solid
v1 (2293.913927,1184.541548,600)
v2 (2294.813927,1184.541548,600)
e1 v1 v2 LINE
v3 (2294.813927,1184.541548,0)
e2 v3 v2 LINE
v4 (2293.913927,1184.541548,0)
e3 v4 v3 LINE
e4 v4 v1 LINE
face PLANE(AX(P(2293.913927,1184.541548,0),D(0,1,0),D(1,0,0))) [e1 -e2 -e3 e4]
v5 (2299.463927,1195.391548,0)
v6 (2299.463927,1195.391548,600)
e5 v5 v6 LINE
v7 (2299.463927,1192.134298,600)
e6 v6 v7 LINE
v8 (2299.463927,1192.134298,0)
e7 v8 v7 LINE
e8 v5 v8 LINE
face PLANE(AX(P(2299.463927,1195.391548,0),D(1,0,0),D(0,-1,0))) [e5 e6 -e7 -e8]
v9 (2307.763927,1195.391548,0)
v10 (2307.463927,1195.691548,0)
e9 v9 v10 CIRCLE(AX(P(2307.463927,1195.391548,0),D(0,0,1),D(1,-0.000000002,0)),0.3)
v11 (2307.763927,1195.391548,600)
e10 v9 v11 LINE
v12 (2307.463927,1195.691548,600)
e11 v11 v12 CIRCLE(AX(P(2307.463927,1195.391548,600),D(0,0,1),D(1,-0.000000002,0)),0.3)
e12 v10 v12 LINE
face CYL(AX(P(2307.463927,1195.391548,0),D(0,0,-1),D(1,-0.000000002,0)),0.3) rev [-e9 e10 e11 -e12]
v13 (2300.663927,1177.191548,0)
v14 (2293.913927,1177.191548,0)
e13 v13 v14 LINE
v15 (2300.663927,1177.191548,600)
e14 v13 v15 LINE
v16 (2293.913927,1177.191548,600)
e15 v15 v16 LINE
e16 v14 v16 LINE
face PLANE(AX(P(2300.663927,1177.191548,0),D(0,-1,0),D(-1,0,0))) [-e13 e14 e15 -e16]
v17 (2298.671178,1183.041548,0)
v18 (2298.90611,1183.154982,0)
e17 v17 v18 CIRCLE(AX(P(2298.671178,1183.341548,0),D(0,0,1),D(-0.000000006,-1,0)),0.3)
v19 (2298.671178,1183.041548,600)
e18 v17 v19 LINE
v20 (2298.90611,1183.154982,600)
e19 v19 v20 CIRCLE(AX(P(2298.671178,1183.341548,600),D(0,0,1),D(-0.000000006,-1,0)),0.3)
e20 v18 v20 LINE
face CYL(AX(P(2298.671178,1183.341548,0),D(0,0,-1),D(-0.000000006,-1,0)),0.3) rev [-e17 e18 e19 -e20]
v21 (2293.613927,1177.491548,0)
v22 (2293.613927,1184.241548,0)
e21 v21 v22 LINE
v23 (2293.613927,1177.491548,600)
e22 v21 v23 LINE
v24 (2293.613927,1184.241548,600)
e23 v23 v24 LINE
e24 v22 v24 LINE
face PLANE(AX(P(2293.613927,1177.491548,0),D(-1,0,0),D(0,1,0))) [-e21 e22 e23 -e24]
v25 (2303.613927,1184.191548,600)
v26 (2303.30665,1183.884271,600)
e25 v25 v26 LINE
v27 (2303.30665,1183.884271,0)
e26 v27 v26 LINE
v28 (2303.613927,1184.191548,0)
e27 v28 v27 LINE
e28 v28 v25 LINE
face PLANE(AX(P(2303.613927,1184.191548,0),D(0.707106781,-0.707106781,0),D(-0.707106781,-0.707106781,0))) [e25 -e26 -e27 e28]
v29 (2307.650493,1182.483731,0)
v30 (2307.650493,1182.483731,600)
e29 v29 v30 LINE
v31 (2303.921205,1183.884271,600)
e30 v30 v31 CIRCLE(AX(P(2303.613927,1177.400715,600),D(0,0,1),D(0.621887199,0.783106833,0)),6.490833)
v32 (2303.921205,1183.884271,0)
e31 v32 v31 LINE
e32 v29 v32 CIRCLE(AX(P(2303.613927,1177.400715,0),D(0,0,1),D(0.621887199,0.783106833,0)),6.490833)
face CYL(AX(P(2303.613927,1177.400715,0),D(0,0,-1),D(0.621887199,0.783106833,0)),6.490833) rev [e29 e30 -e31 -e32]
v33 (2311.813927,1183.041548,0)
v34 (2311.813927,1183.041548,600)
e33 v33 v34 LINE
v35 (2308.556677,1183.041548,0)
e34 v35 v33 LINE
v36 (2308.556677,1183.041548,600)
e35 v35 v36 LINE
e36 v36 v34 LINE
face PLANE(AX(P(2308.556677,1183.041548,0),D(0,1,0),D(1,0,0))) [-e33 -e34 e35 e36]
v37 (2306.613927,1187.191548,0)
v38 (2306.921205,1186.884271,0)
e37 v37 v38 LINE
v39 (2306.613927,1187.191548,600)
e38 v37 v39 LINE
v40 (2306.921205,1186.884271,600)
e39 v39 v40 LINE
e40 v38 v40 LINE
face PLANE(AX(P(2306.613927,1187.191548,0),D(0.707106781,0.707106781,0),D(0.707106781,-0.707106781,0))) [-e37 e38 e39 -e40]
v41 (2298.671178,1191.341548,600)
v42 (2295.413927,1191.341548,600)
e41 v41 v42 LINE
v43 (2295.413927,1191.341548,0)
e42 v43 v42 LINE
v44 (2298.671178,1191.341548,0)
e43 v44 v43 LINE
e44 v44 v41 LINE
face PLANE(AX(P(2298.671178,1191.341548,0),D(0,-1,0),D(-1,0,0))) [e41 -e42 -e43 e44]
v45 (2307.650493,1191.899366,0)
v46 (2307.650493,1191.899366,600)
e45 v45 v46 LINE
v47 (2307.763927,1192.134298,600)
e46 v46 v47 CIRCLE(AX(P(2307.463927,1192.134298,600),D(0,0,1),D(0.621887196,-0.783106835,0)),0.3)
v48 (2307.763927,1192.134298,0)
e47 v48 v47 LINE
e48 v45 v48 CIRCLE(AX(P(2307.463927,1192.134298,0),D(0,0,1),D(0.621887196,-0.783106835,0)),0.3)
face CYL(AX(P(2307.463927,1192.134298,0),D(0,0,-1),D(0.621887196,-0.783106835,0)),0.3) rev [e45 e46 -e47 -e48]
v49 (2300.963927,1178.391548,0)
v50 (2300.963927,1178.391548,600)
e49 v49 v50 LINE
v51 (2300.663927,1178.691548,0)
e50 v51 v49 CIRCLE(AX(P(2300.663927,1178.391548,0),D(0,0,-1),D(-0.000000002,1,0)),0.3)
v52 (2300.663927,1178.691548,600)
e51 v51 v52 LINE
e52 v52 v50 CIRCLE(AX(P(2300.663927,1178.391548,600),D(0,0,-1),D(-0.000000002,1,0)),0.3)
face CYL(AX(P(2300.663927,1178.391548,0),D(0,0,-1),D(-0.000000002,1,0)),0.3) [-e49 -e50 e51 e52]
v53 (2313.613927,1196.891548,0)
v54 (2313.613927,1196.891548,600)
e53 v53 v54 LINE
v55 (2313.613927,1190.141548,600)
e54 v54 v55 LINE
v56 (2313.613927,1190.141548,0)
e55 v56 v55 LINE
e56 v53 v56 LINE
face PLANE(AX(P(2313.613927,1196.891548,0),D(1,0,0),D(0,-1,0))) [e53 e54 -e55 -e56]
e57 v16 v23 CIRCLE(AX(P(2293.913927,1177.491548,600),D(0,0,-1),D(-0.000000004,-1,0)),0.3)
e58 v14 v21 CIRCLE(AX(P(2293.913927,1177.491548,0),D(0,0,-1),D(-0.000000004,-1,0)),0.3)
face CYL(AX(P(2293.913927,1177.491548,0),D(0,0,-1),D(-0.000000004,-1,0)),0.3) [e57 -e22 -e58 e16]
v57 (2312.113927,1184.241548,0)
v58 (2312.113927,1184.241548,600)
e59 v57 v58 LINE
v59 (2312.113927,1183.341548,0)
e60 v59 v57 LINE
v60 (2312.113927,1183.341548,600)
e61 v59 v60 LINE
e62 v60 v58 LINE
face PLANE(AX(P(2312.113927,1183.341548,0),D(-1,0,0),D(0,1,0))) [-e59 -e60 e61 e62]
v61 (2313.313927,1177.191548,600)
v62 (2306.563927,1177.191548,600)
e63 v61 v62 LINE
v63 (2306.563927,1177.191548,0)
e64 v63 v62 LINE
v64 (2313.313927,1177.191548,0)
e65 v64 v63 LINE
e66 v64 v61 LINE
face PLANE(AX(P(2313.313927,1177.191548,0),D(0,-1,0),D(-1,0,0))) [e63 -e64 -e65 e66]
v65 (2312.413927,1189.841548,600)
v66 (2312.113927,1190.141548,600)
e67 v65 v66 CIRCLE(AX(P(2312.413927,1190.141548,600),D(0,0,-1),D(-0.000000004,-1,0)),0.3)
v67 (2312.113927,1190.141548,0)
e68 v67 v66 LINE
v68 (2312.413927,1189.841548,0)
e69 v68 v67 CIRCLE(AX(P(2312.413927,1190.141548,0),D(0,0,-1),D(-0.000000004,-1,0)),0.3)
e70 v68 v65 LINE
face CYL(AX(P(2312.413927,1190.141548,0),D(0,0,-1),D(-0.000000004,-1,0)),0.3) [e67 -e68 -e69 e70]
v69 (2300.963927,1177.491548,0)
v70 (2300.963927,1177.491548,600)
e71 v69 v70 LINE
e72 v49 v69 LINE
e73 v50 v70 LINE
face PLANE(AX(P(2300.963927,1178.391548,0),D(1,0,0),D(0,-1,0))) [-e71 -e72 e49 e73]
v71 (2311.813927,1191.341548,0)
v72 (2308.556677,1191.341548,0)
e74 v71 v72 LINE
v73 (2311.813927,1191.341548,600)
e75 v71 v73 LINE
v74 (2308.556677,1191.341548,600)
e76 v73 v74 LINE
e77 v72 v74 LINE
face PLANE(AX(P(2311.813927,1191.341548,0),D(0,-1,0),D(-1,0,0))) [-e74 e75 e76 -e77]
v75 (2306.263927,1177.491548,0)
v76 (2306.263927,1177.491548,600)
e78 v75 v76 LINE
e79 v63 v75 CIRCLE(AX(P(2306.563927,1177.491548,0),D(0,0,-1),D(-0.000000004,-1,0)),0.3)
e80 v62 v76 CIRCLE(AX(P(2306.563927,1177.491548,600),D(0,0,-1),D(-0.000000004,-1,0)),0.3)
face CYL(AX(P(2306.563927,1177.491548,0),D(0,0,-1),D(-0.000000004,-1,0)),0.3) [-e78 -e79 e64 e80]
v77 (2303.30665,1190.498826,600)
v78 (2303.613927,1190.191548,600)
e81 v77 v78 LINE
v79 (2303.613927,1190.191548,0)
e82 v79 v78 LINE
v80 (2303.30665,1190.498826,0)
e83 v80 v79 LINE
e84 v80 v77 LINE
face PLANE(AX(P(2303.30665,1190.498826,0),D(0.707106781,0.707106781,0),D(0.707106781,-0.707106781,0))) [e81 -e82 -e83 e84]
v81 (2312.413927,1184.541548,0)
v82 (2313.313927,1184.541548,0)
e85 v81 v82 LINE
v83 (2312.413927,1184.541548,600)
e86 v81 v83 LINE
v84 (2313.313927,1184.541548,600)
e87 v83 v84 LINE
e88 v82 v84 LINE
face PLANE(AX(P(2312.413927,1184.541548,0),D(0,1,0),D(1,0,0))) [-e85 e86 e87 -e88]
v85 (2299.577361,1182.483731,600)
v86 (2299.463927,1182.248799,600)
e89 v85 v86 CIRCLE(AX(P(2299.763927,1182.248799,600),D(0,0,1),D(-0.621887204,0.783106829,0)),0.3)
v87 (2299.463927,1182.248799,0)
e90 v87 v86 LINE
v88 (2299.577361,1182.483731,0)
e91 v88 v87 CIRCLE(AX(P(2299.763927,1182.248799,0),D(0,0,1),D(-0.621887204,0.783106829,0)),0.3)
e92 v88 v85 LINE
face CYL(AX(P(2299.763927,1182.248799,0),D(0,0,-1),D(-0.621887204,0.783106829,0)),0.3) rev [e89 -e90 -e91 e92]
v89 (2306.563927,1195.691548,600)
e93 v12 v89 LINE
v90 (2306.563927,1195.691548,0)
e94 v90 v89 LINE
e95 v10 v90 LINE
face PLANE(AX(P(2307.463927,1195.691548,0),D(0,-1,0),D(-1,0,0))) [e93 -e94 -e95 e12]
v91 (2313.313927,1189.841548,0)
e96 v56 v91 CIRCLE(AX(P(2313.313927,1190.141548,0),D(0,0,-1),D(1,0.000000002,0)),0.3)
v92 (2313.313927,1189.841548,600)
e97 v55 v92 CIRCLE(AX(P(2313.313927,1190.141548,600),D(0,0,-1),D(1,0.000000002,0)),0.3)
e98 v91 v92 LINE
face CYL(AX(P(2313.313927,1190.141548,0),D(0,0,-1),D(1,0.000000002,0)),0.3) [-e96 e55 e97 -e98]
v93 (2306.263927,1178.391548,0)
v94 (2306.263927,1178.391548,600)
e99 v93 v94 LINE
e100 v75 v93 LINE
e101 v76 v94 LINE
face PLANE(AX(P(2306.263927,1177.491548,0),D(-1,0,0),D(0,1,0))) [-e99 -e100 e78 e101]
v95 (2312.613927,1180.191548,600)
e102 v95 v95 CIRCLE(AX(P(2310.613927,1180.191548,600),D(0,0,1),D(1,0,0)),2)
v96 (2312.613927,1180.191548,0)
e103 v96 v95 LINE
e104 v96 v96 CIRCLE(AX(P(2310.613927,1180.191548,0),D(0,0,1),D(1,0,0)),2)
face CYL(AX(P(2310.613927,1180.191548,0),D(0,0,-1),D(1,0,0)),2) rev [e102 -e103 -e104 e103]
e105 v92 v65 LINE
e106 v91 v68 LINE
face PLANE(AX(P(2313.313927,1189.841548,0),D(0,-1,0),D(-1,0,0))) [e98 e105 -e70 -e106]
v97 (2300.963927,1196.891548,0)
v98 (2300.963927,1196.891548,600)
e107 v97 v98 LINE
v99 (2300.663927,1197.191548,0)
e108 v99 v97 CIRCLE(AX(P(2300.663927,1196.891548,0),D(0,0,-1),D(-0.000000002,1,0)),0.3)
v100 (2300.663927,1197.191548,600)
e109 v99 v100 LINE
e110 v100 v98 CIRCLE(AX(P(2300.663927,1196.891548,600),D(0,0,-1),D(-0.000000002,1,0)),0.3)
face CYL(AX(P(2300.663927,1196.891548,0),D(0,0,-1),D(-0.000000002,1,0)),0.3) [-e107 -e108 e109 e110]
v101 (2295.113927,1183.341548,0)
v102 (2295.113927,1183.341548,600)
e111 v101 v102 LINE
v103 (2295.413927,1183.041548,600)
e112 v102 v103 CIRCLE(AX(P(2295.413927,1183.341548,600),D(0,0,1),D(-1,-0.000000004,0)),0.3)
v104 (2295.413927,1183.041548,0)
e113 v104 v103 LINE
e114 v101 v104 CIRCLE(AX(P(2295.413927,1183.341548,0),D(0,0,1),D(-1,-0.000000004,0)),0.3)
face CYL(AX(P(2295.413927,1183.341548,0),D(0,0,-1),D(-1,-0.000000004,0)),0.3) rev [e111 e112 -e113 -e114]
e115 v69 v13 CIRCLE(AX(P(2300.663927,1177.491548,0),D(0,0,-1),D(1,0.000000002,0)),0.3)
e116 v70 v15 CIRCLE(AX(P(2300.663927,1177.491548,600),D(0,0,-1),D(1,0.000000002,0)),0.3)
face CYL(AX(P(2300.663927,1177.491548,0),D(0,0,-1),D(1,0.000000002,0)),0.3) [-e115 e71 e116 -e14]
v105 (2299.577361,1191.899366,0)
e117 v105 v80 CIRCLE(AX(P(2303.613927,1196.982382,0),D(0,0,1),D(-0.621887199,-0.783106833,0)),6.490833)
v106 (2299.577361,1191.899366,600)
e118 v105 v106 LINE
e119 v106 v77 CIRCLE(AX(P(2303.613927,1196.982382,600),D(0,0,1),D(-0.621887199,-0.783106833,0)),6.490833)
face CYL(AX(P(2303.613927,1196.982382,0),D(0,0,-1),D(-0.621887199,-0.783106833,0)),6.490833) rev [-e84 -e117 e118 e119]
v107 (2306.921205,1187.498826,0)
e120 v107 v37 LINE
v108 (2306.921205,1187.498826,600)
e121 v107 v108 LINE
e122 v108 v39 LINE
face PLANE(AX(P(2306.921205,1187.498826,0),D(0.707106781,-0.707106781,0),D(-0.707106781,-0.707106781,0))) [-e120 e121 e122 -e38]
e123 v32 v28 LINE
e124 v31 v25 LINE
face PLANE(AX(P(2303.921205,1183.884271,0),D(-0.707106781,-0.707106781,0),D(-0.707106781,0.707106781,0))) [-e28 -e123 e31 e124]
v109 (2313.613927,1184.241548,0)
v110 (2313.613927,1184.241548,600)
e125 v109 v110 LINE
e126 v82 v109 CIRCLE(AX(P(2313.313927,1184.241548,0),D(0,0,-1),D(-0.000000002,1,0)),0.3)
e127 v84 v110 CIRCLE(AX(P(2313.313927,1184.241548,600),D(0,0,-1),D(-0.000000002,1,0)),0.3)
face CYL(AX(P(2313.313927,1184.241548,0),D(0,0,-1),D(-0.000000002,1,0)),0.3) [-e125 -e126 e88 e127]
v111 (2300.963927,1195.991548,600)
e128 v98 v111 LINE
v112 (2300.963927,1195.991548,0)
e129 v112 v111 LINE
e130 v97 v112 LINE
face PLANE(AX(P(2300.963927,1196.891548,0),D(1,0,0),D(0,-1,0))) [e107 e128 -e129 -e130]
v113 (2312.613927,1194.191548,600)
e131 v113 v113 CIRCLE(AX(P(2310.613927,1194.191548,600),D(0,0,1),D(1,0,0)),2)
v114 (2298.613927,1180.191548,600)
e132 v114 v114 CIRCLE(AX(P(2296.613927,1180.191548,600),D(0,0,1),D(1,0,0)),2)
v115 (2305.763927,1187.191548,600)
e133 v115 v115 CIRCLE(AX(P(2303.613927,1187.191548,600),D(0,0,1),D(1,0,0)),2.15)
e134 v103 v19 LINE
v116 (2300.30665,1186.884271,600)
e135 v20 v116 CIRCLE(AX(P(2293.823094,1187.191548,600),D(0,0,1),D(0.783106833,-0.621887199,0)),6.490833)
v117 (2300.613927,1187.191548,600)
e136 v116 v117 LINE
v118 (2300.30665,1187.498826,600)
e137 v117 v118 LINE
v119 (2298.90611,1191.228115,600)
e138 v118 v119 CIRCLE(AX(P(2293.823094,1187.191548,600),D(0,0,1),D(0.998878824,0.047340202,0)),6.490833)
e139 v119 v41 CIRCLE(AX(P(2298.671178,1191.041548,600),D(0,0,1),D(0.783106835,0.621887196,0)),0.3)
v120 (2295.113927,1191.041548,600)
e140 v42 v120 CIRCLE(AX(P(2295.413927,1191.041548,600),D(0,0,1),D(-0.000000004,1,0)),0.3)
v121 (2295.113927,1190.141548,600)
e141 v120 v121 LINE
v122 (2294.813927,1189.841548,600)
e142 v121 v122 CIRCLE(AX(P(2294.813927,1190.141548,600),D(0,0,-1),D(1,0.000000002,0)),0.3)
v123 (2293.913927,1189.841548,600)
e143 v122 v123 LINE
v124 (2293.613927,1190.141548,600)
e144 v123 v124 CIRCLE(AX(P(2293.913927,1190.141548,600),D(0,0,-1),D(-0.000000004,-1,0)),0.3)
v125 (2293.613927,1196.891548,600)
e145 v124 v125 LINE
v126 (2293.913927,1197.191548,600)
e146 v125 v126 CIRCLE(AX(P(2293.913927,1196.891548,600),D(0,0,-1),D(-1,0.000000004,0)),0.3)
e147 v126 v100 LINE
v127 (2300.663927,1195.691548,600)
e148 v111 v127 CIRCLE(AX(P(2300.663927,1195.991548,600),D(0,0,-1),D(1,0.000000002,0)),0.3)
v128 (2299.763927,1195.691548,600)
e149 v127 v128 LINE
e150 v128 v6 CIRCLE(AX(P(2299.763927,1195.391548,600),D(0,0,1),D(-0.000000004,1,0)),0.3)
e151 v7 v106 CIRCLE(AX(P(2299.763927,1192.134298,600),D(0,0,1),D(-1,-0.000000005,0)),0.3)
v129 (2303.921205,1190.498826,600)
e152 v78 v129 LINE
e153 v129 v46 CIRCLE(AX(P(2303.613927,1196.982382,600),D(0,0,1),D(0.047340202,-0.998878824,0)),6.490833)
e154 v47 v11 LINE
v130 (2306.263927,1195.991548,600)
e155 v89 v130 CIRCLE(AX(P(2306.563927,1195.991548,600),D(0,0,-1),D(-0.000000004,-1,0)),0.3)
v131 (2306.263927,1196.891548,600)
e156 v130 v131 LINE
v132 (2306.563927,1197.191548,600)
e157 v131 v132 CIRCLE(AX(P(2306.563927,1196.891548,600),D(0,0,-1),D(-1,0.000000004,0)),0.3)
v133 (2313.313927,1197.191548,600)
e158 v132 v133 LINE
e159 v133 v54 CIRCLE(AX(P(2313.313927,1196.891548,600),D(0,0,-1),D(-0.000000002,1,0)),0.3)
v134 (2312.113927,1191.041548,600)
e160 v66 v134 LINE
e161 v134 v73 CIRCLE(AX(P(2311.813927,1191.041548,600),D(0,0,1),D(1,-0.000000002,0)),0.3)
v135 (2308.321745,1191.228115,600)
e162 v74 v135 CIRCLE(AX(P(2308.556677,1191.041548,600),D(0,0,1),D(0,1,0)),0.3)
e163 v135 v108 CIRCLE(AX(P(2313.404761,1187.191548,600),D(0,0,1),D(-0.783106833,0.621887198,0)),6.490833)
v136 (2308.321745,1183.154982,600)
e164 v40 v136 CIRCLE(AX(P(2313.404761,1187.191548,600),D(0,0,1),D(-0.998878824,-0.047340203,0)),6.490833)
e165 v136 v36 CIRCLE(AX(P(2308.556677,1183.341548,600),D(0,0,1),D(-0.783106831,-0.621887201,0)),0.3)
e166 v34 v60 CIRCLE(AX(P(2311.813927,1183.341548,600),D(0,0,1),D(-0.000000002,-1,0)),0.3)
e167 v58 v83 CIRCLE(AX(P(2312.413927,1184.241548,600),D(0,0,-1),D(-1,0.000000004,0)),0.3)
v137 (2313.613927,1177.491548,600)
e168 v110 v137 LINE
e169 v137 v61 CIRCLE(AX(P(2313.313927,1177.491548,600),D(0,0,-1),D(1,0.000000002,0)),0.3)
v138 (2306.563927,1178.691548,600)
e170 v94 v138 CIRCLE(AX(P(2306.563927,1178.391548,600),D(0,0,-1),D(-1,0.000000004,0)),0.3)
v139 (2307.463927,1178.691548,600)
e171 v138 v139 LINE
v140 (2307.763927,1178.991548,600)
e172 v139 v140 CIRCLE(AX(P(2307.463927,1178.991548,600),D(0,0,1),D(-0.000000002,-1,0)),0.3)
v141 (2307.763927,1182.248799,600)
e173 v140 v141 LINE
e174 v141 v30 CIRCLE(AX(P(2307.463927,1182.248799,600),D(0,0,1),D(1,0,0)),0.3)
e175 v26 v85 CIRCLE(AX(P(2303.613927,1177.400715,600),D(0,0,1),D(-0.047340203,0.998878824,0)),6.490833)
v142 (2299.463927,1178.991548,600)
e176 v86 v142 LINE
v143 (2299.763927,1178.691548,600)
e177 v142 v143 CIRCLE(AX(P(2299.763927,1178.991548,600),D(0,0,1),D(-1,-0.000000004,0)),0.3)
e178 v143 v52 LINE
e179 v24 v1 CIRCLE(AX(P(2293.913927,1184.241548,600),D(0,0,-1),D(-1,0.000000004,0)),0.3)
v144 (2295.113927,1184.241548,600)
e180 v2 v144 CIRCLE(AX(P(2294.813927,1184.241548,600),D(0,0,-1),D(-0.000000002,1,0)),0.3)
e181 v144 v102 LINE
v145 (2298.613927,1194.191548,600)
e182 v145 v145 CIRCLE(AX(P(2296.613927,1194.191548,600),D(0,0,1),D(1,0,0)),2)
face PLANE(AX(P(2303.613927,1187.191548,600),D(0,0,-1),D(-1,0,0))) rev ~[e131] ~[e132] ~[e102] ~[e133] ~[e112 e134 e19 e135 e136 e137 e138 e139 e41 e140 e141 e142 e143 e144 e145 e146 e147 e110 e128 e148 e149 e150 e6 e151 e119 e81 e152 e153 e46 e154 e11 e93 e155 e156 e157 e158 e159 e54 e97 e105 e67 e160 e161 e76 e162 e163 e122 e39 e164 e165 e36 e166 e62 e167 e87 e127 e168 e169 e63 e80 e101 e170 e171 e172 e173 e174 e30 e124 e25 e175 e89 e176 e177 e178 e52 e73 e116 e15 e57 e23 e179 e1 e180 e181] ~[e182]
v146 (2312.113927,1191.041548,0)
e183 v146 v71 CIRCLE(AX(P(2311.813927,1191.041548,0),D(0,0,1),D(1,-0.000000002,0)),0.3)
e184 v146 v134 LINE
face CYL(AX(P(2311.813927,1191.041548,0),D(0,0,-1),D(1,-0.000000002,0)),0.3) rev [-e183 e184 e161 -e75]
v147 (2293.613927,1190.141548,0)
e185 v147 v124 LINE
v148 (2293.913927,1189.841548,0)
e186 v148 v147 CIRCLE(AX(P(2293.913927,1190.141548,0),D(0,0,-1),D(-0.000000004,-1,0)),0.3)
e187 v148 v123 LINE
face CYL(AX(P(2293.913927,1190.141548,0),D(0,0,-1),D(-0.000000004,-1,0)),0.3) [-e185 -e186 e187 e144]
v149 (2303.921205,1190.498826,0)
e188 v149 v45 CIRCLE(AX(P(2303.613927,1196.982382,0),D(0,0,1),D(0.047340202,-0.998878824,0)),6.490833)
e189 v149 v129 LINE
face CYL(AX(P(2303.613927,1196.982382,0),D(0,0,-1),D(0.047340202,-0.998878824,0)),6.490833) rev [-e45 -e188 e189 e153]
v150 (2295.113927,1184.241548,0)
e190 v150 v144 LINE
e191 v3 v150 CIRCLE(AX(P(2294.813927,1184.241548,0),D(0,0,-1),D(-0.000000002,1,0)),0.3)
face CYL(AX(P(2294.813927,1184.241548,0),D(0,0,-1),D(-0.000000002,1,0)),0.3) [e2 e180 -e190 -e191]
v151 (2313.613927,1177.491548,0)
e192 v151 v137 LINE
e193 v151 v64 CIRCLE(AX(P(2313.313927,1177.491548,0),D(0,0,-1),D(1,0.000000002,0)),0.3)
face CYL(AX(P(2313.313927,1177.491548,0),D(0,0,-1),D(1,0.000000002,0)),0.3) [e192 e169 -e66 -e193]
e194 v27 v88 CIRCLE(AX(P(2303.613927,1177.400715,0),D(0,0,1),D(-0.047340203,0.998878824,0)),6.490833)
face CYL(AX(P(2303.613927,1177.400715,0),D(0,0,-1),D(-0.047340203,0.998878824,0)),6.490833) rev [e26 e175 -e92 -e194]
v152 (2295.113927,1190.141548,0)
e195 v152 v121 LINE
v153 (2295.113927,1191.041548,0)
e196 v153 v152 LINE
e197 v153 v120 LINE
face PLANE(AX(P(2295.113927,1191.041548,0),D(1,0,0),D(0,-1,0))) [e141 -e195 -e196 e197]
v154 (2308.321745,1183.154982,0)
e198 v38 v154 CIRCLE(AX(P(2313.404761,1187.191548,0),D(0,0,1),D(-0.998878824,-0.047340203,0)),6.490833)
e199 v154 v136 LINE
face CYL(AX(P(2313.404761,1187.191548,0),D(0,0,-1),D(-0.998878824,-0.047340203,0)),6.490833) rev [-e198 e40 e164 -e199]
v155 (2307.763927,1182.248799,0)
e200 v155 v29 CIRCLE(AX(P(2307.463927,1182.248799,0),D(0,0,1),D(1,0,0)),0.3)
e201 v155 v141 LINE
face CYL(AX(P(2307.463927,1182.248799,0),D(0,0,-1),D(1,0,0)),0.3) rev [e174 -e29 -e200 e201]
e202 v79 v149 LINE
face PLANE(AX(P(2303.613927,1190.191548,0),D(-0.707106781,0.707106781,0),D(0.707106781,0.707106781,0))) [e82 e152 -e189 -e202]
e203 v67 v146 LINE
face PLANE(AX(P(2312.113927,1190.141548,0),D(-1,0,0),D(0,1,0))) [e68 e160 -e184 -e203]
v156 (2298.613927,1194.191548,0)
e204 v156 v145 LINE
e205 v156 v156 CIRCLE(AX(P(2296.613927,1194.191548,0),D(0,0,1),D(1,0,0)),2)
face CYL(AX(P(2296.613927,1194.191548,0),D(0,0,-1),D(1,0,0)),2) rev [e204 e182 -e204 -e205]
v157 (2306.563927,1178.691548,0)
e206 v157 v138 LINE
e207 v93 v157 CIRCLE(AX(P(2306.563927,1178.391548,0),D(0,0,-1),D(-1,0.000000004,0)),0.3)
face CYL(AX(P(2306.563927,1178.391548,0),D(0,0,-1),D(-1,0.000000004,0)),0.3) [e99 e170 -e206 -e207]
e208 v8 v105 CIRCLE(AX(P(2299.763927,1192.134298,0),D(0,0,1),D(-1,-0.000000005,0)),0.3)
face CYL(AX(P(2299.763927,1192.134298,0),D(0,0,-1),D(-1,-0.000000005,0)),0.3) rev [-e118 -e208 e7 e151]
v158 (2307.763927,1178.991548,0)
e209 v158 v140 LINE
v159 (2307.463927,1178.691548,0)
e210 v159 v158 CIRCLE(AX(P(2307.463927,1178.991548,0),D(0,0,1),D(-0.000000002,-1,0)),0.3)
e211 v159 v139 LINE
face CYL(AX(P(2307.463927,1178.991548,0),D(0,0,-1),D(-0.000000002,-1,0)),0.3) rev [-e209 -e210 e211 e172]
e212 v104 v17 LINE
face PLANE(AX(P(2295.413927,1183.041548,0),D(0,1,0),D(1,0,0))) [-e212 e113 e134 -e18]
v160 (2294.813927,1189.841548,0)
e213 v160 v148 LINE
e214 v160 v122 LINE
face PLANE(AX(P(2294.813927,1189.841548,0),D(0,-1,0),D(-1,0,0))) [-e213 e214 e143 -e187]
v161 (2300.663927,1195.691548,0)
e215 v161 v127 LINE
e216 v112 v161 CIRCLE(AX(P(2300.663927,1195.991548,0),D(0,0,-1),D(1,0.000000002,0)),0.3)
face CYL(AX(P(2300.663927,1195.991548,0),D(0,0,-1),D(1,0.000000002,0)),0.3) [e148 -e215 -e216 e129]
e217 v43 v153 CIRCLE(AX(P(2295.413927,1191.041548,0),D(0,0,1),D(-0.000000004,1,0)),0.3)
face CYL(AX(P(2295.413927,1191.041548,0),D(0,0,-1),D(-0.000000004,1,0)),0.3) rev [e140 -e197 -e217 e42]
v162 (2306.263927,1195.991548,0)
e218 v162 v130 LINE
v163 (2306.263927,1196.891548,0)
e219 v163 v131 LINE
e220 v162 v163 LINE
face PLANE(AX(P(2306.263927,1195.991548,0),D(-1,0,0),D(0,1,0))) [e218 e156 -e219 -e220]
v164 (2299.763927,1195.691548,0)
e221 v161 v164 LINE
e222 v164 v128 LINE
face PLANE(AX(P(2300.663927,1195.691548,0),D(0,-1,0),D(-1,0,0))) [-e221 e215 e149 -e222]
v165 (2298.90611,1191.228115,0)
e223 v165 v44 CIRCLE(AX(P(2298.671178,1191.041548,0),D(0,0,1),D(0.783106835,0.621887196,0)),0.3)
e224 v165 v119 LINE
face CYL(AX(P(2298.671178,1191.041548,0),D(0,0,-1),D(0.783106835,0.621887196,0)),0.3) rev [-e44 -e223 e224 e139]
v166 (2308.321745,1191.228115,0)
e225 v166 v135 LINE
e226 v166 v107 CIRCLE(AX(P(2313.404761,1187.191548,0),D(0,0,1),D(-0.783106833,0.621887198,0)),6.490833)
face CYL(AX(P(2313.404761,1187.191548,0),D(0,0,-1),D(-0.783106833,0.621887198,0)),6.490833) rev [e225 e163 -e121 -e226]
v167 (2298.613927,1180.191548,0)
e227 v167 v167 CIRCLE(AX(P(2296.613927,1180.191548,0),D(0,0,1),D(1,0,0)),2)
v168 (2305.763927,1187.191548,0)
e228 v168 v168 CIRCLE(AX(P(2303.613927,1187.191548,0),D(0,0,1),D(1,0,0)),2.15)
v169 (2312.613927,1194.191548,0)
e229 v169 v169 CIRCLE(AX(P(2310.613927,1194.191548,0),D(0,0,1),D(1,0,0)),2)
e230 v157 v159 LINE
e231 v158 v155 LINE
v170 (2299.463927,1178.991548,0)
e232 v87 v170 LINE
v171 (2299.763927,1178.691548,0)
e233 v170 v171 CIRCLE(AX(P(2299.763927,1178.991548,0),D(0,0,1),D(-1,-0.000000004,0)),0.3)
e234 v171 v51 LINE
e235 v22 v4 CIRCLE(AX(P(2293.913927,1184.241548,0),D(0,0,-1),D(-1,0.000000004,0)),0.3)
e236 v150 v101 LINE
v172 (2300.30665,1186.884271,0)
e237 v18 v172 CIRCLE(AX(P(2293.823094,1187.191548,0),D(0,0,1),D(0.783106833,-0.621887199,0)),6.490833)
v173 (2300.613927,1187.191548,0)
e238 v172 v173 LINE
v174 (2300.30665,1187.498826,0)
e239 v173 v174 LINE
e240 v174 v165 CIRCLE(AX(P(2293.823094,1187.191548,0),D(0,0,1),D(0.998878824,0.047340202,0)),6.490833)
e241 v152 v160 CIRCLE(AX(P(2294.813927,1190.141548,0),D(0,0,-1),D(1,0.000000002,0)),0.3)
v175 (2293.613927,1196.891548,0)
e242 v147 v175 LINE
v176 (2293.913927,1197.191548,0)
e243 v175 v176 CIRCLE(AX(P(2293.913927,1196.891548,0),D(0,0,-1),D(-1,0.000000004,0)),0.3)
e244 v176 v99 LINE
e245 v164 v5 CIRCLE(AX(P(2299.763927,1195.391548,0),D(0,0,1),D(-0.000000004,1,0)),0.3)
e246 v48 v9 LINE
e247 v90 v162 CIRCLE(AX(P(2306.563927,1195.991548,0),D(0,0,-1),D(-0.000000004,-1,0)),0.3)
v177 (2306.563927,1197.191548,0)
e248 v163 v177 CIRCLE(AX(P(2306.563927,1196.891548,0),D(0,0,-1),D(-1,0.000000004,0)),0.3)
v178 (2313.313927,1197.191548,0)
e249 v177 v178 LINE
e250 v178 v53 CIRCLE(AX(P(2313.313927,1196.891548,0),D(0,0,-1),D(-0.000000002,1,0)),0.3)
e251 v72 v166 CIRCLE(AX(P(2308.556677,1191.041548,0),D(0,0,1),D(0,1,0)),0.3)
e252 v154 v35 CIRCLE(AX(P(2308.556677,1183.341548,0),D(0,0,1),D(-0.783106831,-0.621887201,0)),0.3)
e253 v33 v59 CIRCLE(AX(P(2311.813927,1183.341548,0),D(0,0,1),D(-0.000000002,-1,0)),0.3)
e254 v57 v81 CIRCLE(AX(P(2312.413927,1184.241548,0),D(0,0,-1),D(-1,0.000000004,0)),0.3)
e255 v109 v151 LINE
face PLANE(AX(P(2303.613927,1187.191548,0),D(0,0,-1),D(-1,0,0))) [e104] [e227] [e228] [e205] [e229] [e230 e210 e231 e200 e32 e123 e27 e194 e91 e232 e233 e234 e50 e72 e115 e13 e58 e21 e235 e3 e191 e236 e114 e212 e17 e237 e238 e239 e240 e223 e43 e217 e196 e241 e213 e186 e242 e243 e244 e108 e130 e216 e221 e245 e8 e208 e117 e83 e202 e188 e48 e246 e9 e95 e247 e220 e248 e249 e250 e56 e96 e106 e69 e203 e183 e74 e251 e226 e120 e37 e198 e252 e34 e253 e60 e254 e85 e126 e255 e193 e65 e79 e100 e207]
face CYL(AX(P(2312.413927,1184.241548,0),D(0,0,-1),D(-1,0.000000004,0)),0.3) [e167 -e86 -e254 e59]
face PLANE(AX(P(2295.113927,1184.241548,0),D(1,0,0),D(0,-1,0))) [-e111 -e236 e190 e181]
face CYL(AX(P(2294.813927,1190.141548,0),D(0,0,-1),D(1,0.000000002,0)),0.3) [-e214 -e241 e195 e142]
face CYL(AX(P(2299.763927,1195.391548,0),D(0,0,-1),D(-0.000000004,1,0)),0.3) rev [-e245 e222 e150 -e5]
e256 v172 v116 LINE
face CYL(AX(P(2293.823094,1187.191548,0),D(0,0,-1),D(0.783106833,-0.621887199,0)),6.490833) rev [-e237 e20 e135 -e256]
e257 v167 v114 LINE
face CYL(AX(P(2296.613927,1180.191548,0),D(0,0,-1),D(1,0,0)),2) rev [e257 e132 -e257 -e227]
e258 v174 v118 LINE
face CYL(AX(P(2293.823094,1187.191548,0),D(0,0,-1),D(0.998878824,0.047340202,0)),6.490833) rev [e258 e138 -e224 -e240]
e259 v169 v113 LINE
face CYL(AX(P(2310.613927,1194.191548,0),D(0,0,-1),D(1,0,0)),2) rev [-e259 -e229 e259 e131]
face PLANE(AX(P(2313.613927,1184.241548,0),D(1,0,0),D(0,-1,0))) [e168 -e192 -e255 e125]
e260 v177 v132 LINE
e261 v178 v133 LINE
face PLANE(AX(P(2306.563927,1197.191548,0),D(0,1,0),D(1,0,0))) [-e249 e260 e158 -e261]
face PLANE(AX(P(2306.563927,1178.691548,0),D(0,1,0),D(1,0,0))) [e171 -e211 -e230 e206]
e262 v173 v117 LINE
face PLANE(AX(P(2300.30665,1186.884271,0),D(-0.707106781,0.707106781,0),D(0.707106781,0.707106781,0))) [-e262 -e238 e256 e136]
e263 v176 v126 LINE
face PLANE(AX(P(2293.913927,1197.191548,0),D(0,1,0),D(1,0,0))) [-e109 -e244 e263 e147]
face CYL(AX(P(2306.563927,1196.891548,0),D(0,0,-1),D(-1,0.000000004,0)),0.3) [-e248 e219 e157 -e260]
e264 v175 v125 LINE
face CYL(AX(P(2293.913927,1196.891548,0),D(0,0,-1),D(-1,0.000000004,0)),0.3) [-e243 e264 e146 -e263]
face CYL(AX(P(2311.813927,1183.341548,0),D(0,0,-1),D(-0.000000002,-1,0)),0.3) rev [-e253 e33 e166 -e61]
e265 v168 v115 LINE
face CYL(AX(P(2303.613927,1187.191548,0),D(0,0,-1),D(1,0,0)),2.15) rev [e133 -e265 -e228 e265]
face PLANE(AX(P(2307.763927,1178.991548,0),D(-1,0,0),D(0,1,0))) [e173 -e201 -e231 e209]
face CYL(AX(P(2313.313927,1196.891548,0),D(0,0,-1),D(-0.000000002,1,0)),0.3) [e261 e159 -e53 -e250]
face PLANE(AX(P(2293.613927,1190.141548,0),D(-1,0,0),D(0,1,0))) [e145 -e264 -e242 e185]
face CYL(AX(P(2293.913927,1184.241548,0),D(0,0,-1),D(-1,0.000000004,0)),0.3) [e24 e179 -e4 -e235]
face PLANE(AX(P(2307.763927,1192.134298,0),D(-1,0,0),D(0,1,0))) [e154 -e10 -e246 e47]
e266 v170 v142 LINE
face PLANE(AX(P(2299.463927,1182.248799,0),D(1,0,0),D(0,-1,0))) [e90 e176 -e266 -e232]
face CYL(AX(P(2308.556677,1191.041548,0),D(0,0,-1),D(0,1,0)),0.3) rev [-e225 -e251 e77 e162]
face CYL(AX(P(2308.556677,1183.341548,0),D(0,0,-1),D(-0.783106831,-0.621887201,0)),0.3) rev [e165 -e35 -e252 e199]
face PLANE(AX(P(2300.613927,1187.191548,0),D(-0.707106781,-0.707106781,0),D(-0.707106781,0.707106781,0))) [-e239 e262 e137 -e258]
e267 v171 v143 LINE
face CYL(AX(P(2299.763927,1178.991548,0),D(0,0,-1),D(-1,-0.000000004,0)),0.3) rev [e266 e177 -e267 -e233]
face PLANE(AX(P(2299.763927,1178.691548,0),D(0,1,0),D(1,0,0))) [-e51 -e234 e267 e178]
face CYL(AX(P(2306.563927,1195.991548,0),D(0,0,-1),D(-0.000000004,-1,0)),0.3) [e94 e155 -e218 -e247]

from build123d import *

# Parameters (mm, degrees)
MODEL_R         = 2.15
MODEL_R_2       = 2
EXTRUDE_1_DEPTH = 600


with BuildPart() as part:
    # Model → 보스-돌출1 (new body)
    with BuildSketch(Plane.XY):
        with BuildLine():
            Line((2307.763927197, 1192.134297913), (2307.763927197, 1195.391548465))
            ThreePointArc((2307.763927197, 1195.391548465), (2307.676059232, 1195.603680499), (2307.463927197, 1195.691548465))
            Line((2307.463927197, 1195.691548465), (2306.563927197, 1195.691548465))
            ThreePointArc((2306.563927197, 1195.691548465), (2306.351795163, 1195.779416431), (2306.263927197, 1195.991548465))
            Line((2306.263927197, 1195.991548465), (2306.263927197, 1196.891548465))
            ThreePointArc((2306.263927197, 1196.891548465), (2306.351795163, 1197.103680499), (2306.563927197, 1197.191548465))
            Line((2306.563927197, 1197.191548465), (2313.313927197, 1197.191548465))
            ThreePointArc((2313.313927197, 1197.191548465), (2313.526059232, 1197.103680499), (2313.613927197, 1196.891548465))
            Line((2313.613927197, 1196.891548465), (2313.613927197, 1190.141548465))
            ThreePointArc((2313.613927197, 1190.141548465), (2313.526059232, 1189.929416431), (2313.313927197, 1189.841548465))
            Line((2313.313927197, 1189.841548465), (2312.413927197, 1189.841548465))
            ThreePointArc((2312.413927197, 1189.841548465), (2312.201795163, 1189.929416431), (2312.113927197, 1190.141548465))
            Line((2312.113927197, 1190.141548465), (2312.113927197, 1191.041548465))
            ThreePointArc((2312.113927197, 1191.041548465), (2312.026059232, 1191.253680499), (2311.813927197, 1191.341548465))
            Line((2311.813927197, 1191.341548465), (2308.556676645, 1191.341548465))
            ThreePointArc((2308.556676645, 1191.341548465), (2308.426234796, 1191.311705686), (2308.321744595, 1191.228114625))
            ThreePointArc((2308.321744595, 1191.228114625), (2307.328306374, 1189.47356999), (2306.921204563, 1187.498825831))
            Line((2306.921204563, 1187.498825831), (2306.613927197, 1187.191548465))
            Line((2306.613927197, 1187.191548465), (2306.921204563, 1186.884271099))
            ThreePointArc((2306.921204563, 1186.884271099), (2307.328306374, 1184.90952694), (2308.321744595, 1183.154982305))
            ThreePointArc((2308.321744595, 1183.154982305), (2308.426234796, 1183.071391244), (2308.556676645, 1183.041548465))
            Line((2308.556676645, 1183.041548465), (2311.813927197, 1183.041548465))
            ThreePointArc((2311.813927197, 1183.041548465), (2312.026059232, 1183.129416431), (2312.113927197, 1183.341548465))
            Line((2312.113927197, 1183.341548465), (2312.113927197, 1184.241548465))
            ThreePointArc((2312.113927197, 1184.241548465), (2312.201795163, 1184.453680499), (2312.413927197, 1184.541548465))
            Line((2312.413927197, 1184.541548465), (2313.313927197, 1184.541548465))
            ThreePointArc((2313.313927197, 1184.541548465), (2313.526059232, 1184.453680499), (2313.613927197, 1184.241548465))
            Line((2313.613927197, 1184.241548465), (2313.613927197, 1177.491548465))
            ThreePointArc((2313.613927197, 1177.491548465), (2313.526059232, 1177.279416431), (2313.313927197, 1177.191548465))
            Line((2313.313927197, 1177.191548465), (2306.563927197, 1177.191548465))
            ThreePointArc((2306.563927197, 1177.191548465), (2306.351795163, 1177.279416431), (2306.263927197, 1177.491548465))
            Line((2306.263927197, 1177.491548465), (2306.263927197, 1178.391548465))
            ThreePointArc((2306.263927197, 1178.391548465), (2306.351795163, 1178.603680499), (2306.563927197, 1178.691548465))
            Line((2306.563927197, 1178.691548465), (2307.463927197, 1178.691548465))
            ThreePointArc((2307.463927197, 1178.691548465), (2307.676059232, 1178.779416431), (2307.763927197, 1178.991548465))
            Line((2307.763927197, 1178.991548465), (2307.763927197, 1182.248799017))
            ThreePointArc((2307.763927197, 1182.248799017), (2307.734084418, 1182.379240866), (2307.650493357, 1182.483731067))
            ThreePointArc((2307.650493357, 1182.483731067), (2305.895948722, 1183.477169289), (2303.921204563, 1183.884271099))
            Line((2303.921204563, 1183.884271099), (2303.613927197, 1184.191548465))
            Line((2303.613927197, 1184.191548465), (2303.306649831, 1183.884271099))
            ThreePointArc((2303.306649831, 1183.884271099), (2301.331905673, 1183.477169289), (2299.577361038, 1182.483731067))
            ThreePointArc((2299.577361038, 1182.483731067), (2299.493769977, 1182.379240866), (2299.463927197, 1182.248799017))
            Line((2299.463927197, 1182.248799017), (2299.463927197, 1178.991548465))
            ThreePointArc((2299.463927197, 1178.991548465), (2299.551795163, 1178.779416431), (2299.763927197, 1178.691548465))
            Line((2299.763927197, 1178.691548465), (2300.663927197, 1178.691548465))
            ThreePointArc((2300.663927197, 1178.691548465), (2300.876059232, 1178.603680499), (2300.963927197, 1178.391548465))
            Line((2300.963927197, 1178.391548465), (2300.963927197, 1177.491548465))
            ThreePointArc((2300.963927197, 1177.491548465), (2300.876059232, 1177.279416431), (2300.663927197, 1177.191548465))
            Line((2300.663927197, 1177.191548465), (2293.913927197, 1177.191548465))
            ThreePointArc((2293.913927197, 1177.191548465), (2293.701795163, 1177.279416431), (2293.613927197, 1177.491548465))
            Line((2293.613927197, 1177.491548465), (2293.613927197, 1184.241548465))
            ThreePointArc((2293.613927197, 1184.241548465), (2293.701795163, 1184.453680499), (2293.913927197, 1184.541548465))
            Line((2293.913927197, 1184.541548465), (2294.813927197, 1184.541548465))
            ThreePointArc((2294.813927197, 1184.541548465), (2295.026059232, 1184.453680499), (2295.113927197, 1184.241548465))
            Line((2295.113927197, 1184.241548465), (2295.113927197, 1183.341548465))
            ThreePointArc((2295.113927197, 1183.341548465), (2295.201795163, 1183.129416431), (2295.413927197, 1183.041548465))
            Line((2295.413927197, 1183.041548465), (2298.671177749, 1183.041548465))
            ThreePointArc((2298.671177749, 1183.041548465), (2298.801619599, 1183.071391244), (2298.906109799, 1183.154982305))
            ThreePointArc((2298.906109799, 1183.154982305), (2299.899548021, 1184.90952694), (2300.306649831, 1186.884271099))
            Line((2300.306649831, 1186.884271099), (2300.613927197, 1187.191548465))
            Line((2300.613927197, 1187.191548465), (2300.306649831, 1187.498825831))
            ThreePointArc((2300.306649831, 1187.498825831), (2299.899548021, 1189.47356999), (2298.906109799, 1191.228114625))
            ThreePointArc((2298.906109799, 1191.228114625), (2298.801619599, 1191.311705686), (2298.671177749, 1191.341548465))
            Line((2298.671177749, 1191.341548465), (2295.413927197, 1191.341548465))
            ThreePointArc((2295.413927197, 1191.341548465), (2295.201795163, 1191.253680499), (2295.113927197, 1191.041548465))
            Line((2295.113927197, 1191.041548465), (2295.113927197, 1190.141548465))
            ThreePointArc((2295.113927197, 1190.141548465), (2295.026059232, 1189.929416431), (2294.813927197, 1189.841548465))
            Line((2294.813927197, 1189.841548465), (2293.913927197, 1189.841548465))
            ThreePointArc((2293.913927197, 1189.841548465), (2293.701795163, 1189.929416431), (2293.613927197, 1190.141548465))
            Line((2293.613927197, 1190.141548465), (2293.613927197, 1196.891548465))
            ThreePointArc((2293.613927197, 1196.891548465), (2293.701795163, 1197.103680499), (2293.913927197, 1197.191548465))
            Line((2293.913927197, 1197.191548465), (2300.663927197, 1197.191548465))
            ThreePointArc((2300.663927197, 1197.191548465), (2300.876059232, 1197.103680499), (2300.963927197, 1196.891548465))
            Line((2300.963927197, 1196.891548465), (2300.963927197, 1195.991548465))
            ThreePointArc((2300.963927197, 1195.991548465), (2300.876059232, 1195.779416431), (2300.663927197, 1195.691548465))
            Line((2300.663927197, 1195.691548465), (2299.763927197, 1195.691548465))
            ThreePointArc((2299.763927197, 1195.691548465), (2299.551795163, 1195.603680499), (2299.463927197, 1195.391548465))
            Line((2299.463927197, 1195.391548465), (2299.463927197, 1192.134297913))
            ThreePointArc((2299.463927197, 1192.134297913), (2299.493769977, 1192.003856063), (2299.577361038, 1191.899365863))
            ThreePointArc((2299.577361038, 1191.899365863), (2301.331905673, 1190.905927641), (2303.306649831, 1190.498825831))
            Line((2303.306649831, 1190.498825831), (2303.613927197, 1190.191548465))
            Line((2303.613927197, 1190.191548465), (2303.921204563, 1190.498825831))
            ThreePointArc((2303.921204563, 1190.498825831), (2305.895948722, 1190.905927641), (2307.650493357, 1191.899365863))
            ThreePointArc((2307.650493357, 1191.899365863), (2307.734084418, 1192.003856063), (2307.763927197, 1192.134297913))
        make_face()
        with Locations((2303.613927197, 1187.191548465)):
            Circle(MODEL_R, mode=Mode.SUBTRACT)
        with Locations((2296.613927197, 1194.191548465)):
            Circle(MODEL_R_2, mode=Mode.SUBTRACT)
        with Locations((2296.613927197, 1180.191548465)):
            Circle(MODEL_R_2, mode=Mode.SUBTRACT)
        with Locations((2310.613927197, 1194.191548465)):
            Circle(MODEL_R_2, mode=Mode.SUBTRACT)
        with Locations((2310.613927197, 1180.191548465)):
            Circle(MODEL_R_2, mode=Mode.SUBTRACT)
    extrude(amount=EXTRUDE_1_DEPTH)


solid = part.part
